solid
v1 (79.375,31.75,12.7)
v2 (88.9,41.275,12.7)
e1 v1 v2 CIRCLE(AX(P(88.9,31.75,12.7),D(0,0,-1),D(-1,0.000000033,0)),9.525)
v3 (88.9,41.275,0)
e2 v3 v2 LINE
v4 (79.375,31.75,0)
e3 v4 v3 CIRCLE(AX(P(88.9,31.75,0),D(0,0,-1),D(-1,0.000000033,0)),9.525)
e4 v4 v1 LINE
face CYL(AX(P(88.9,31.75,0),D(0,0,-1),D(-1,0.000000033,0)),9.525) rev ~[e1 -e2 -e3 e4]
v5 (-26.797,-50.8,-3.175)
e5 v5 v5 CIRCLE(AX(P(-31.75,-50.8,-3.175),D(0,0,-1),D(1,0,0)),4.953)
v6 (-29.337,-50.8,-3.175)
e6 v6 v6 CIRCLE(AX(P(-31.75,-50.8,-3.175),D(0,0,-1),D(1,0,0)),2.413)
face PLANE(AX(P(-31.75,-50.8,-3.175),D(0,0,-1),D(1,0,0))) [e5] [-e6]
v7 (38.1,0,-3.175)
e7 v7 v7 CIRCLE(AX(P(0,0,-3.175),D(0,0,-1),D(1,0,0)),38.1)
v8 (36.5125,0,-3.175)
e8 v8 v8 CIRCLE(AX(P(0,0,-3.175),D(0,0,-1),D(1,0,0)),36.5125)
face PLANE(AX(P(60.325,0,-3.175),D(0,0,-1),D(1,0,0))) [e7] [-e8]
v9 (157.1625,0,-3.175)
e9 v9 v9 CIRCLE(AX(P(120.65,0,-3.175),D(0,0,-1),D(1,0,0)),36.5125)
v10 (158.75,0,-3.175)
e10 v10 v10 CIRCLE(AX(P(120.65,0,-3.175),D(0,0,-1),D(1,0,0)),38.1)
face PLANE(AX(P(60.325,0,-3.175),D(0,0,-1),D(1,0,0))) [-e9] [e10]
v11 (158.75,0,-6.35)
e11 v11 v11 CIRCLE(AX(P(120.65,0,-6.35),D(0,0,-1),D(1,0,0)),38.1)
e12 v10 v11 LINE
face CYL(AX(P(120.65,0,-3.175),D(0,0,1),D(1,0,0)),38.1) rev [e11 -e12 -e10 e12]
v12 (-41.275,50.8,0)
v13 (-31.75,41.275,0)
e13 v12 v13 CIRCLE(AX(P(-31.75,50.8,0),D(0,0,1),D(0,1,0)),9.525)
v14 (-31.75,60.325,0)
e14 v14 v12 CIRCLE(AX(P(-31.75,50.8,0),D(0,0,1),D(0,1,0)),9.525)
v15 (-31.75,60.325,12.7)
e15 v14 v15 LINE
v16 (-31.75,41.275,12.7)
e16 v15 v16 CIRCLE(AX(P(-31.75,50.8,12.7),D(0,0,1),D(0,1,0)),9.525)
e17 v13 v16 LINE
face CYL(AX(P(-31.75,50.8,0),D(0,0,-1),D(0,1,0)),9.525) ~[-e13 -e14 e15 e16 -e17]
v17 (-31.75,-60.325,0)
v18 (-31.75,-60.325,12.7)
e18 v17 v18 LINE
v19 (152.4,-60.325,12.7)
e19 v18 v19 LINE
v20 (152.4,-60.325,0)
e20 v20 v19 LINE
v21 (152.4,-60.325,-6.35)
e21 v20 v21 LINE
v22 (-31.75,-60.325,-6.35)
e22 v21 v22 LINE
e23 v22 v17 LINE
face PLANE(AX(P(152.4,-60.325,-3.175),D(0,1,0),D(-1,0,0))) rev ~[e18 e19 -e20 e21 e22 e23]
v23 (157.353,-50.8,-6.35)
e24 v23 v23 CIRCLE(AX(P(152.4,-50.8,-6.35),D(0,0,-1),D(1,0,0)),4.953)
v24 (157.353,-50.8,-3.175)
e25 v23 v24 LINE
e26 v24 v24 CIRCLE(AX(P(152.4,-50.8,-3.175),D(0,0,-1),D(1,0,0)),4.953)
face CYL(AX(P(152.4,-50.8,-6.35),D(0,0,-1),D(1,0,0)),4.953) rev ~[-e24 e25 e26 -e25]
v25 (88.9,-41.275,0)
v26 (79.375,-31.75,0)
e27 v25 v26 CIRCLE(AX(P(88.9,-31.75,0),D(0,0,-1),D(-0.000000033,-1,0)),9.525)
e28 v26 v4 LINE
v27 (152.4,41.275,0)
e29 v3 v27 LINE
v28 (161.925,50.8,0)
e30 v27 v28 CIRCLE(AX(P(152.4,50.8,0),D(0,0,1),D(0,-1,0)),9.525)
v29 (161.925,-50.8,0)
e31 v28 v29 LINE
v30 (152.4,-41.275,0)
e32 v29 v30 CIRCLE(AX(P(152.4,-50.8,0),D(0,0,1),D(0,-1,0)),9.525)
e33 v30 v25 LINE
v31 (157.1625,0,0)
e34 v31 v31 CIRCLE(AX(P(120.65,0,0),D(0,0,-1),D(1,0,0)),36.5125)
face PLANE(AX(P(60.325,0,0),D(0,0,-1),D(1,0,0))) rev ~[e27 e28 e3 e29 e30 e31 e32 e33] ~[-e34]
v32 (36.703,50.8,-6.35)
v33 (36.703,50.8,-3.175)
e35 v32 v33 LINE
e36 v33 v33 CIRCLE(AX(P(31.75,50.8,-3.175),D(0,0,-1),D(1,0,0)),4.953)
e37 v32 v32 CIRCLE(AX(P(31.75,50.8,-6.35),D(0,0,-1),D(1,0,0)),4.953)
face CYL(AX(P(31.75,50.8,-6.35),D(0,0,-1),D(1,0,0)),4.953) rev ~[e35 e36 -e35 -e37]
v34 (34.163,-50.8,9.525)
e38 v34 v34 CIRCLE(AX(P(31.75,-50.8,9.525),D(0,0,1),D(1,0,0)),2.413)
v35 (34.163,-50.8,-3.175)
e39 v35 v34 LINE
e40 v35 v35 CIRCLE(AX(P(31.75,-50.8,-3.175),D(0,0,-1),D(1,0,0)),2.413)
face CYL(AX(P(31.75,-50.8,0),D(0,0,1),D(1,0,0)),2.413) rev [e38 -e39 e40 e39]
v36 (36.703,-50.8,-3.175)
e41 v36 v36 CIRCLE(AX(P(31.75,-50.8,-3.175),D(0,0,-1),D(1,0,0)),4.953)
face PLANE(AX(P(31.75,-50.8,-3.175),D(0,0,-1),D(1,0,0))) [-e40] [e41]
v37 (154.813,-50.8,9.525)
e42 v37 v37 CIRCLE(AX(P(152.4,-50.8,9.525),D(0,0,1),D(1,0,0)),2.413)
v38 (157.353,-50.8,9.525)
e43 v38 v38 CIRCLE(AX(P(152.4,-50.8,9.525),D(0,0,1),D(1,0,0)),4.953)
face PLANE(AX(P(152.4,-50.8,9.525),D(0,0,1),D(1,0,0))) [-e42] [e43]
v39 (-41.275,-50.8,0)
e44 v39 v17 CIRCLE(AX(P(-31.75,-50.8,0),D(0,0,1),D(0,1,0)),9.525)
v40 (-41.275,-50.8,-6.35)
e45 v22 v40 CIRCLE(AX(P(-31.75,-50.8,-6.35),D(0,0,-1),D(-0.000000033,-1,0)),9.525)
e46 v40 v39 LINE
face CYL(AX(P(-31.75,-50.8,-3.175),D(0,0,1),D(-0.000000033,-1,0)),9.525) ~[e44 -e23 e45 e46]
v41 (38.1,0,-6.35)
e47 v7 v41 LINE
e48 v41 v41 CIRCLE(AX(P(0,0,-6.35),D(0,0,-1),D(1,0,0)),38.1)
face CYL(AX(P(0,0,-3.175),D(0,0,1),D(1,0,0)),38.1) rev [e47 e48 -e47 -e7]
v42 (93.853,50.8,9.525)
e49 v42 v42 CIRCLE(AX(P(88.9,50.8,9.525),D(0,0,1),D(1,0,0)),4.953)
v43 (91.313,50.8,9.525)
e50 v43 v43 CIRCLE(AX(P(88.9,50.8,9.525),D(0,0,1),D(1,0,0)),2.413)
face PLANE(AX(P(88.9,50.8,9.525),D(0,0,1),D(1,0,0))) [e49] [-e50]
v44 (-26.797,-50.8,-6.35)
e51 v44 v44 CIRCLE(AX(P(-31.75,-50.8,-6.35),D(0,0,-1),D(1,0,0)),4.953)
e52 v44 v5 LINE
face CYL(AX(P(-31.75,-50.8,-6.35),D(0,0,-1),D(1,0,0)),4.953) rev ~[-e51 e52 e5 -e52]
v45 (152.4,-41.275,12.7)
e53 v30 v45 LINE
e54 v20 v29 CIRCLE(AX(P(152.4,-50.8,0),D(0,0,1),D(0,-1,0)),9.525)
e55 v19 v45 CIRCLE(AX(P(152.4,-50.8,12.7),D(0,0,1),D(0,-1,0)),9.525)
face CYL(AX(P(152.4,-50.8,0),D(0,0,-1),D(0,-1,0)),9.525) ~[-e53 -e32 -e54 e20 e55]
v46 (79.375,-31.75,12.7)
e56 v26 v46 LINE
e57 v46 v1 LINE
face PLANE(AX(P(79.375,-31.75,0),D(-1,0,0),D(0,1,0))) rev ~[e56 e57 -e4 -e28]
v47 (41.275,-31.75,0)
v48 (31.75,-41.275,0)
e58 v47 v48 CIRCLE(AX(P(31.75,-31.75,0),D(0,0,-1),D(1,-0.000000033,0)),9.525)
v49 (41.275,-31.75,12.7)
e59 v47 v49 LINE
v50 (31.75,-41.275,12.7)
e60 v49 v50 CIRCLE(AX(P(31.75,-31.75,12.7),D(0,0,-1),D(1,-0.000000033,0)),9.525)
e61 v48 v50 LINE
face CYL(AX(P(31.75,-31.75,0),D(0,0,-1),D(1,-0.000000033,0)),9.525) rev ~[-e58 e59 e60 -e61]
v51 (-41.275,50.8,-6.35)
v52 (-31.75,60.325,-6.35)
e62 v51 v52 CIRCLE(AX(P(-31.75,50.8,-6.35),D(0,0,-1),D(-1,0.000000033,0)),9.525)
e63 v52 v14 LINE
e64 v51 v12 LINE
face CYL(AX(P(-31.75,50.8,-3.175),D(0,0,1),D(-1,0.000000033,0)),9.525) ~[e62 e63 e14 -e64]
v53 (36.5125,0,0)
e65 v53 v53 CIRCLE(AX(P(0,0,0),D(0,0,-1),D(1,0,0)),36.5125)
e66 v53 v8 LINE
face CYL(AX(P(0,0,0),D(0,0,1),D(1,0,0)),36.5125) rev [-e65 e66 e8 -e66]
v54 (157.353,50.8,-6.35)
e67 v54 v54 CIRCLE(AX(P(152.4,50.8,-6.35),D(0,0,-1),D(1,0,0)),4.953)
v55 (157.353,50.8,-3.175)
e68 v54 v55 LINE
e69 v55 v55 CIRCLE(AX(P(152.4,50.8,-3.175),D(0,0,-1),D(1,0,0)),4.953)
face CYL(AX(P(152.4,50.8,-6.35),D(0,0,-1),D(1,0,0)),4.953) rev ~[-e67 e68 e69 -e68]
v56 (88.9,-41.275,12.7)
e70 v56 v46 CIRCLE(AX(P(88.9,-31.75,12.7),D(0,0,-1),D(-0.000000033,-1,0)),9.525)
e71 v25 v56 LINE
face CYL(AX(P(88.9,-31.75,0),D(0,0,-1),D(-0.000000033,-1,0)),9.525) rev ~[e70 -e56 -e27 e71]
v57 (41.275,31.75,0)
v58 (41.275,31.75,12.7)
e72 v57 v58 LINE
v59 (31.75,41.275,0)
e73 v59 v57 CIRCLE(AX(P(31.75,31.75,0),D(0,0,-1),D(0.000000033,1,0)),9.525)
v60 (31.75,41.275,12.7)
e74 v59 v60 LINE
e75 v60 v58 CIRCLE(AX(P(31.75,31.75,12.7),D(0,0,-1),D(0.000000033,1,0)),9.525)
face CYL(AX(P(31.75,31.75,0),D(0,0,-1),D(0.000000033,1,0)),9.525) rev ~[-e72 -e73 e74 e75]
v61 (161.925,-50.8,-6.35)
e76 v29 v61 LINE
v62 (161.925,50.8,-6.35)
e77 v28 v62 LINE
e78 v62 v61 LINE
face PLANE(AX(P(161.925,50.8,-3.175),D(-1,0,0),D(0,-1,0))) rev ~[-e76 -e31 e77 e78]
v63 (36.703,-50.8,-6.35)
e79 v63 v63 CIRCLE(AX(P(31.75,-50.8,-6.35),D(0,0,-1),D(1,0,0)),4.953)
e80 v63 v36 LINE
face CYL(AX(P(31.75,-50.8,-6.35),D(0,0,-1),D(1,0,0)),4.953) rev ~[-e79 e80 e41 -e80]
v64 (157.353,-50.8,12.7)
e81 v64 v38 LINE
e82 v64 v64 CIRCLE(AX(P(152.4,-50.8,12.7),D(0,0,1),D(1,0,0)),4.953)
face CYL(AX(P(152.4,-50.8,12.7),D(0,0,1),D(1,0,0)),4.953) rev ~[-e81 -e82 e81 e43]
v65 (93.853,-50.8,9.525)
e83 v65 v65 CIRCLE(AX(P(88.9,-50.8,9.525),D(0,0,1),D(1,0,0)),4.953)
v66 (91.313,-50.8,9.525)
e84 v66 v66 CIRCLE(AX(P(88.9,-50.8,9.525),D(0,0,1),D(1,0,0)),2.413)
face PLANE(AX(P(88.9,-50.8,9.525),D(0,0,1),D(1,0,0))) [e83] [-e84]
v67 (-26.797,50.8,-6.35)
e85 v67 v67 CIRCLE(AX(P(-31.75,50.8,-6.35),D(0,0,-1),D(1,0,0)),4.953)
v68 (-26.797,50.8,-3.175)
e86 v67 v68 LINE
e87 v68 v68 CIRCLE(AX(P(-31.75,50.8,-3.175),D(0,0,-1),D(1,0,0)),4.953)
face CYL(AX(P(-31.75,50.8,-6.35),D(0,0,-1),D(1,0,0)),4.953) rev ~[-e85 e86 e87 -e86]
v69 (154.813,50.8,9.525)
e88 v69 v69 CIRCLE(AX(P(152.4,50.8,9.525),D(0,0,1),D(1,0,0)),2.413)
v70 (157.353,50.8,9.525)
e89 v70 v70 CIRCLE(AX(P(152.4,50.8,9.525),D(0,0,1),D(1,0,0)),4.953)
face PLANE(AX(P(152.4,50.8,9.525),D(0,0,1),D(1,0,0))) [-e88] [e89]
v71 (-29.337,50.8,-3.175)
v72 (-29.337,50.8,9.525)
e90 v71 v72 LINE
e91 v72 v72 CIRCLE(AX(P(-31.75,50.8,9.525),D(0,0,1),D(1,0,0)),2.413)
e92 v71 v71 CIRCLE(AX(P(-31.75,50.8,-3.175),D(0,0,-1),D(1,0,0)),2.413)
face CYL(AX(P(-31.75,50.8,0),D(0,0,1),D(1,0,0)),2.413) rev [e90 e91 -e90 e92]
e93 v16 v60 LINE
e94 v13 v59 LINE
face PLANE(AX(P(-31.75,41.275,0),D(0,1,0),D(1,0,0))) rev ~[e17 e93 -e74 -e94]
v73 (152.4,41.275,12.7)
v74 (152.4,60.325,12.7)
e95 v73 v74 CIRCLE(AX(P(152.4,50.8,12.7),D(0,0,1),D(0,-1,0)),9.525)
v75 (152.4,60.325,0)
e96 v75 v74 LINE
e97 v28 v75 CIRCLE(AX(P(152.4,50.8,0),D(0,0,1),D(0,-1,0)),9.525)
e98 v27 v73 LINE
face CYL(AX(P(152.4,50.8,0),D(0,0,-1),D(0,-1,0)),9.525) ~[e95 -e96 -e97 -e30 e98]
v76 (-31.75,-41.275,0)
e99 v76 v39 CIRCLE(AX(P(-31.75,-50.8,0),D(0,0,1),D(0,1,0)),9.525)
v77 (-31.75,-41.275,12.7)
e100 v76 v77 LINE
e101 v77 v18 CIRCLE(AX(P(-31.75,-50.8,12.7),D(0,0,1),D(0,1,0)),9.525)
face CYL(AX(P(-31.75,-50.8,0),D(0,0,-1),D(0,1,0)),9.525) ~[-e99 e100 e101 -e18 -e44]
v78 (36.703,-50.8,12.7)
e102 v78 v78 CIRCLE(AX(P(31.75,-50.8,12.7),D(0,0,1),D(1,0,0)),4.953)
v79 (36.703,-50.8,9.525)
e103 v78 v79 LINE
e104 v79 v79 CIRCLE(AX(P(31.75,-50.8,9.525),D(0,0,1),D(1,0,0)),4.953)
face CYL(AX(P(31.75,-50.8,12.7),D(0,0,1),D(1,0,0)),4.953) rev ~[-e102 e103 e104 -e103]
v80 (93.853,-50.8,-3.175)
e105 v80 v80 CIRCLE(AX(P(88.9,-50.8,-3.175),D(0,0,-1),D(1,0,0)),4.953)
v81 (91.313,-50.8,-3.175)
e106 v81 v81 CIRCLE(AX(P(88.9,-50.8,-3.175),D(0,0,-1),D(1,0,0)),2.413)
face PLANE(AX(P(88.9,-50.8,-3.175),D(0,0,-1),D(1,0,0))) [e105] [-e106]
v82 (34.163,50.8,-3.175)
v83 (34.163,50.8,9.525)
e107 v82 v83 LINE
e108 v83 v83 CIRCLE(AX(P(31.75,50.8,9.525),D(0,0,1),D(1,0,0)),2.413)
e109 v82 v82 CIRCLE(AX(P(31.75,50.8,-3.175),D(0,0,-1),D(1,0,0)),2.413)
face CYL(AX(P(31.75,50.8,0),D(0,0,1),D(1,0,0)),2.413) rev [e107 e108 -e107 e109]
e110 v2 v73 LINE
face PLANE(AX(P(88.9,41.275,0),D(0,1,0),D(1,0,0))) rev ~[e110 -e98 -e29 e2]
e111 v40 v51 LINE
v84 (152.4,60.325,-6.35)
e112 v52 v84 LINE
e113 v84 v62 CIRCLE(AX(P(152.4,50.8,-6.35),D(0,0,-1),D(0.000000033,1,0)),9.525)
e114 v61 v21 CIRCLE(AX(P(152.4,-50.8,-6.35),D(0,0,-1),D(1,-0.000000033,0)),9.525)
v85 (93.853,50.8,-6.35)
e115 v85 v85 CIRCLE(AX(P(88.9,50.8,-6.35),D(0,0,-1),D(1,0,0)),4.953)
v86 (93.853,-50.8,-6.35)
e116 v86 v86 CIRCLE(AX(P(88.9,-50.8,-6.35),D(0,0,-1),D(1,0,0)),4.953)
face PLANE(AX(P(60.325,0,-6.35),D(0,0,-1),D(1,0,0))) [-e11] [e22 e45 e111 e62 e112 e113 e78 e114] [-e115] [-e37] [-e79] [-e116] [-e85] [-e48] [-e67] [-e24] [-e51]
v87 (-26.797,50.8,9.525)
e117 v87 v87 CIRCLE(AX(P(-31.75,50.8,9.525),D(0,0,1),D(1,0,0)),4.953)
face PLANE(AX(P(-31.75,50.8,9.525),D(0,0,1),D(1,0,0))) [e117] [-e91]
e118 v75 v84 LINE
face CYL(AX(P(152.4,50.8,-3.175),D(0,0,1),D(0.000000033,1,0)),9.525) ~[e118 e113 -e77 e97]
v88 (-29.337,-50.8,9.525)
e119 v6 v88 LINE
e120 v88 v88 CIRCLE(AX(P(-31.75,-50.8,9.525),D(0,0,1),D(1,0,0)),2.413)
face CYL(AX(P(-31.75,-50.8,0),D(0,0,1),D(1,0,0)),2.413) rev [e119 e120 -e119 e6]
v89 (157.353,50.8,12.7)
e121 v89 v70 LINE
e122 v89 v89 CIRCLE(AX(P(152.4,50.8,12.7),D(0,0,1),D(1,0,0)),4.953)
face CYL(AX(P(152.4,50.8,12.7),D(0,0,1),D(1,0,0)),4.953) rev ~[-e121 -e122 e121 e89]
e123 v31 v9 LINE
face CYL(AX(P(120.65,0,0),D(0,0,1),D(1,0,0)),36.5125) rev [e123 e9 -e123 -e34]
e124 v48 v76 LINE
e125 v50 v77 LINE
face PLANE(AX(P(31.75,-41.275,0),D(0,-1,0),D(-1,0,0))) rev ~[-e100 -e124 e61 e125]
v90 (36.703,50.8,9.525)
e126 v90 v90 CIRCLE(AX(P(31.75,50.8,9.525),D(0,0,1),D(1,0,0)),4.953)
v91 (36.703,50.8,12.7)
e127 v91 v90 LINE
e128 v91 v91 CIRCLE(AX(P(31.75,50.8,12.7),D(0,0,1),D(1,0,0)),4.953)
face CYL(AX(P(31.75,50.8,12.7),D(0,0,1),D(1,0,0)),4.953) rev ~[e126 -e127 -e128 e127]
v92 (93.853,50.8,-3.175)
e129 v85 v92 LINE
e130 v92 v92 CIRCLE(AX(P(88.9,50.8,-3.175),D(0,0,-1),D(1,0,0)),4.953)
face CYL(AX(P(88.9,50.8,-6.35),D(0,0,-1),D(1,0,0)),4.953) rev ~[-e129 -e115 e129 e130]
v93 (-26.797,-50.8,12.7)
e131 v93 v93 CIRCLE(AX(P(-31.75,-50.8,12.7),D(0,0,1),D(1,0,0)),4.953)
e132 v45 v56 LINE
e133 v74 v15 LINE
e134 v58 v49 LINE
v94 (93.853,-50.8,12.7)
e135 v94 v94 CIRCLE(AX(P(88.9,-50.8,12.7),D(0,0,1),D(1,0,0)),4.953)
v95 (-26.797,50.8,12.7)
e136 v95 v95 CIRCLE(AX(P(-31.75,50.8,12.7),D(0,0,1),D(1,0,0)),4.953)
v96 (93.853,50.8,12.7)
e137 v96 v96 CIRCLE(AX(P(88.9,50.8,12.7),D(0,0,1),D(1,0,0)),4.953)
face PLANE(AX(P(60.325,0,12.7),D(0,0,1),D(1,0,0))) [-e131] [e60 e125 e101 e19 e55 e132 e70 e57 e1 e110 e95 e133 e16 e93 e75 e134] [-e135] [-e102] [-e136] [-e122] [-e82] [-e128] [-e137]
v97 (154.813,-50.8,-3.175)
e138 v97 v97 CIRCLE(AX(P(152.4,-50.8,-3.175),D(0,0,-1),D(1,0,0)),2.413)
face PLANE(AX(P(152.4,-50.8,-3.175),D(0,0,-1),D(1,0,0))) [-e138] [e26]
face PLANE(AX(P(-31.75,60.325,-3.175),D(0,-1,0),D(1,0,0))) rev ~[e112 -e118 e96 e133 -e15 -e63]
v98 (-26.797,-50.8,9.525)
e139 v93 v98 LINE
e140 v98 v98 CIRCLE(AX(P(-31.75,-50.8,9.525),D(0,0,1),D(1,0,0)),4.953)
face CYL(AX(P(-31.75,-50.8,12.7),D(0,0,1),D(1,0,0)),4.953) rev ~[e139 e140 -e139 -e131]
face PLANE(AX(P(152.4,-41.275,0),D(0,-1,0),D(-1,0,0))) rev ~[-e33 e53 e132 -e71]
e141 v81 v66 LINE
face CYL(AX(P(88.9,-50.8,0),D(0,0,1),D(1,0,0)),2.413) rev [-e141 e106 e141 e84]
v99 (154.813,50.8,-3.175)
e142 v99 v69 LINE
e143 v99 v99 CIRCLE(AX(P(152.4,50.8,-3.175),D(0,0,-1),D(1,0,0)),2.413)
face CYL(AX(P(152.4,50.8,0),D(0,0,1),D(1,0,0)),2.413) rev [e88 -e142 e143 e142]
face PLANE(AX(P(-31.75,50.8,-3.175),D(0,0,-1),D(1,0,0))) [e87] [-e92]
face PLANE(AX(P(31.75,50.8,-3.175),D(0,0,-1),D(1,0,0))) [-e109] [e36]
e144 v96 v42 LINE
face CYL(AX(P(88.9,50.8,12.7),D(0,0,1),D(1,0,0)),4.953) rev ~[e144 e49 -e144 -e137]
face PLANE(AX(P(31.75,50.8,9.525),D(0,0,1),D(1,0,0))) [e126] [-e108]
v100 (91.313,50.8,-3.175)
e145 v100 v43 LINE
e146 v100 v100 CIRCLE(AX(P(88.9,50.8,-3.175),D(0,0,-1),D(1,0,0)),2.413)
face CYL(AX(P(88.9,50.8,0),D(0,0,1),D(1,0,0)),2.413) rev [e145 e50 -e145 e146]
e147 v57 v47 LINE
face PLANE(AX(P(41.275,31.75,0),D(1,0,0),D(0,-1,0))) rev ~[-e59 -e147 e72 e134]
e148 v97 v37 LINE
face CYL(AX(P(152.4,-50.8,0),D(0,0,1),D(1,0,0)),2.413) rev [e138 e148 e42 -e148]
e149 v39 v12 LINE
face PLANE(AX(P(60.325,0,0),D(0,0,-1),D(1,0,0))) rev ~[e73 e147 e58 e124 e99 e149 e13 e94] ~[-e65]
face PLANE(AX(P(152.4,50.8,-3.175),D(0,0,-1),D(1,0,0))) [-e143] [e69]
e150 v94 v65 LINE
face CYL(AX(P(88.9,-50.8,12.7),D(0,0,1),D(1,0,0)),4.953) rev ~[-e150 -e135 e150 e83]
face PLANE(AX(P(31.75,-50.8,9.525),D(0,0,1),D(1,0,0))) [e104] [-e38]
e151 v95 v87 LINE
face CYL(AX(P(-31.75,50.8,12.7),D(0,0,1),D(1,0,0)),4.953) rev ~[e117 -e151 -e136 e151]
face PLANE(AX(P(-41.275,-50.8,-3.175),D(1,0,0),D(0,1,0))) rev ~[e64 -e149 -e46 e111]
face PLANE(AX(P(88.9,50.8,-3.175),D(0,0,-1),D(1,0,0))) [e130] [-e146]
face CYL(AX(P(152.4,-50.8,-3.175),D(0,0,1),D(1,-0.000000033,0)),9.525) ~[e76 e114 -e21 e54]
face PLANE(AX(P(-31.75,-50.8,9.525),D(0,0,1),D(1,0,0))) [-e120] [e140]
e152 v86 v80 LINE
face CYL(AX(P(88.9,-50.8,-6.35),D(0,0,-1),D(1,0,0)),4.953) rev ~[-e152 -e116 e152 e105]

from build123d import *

# Parameters (mm, degrees)
F0_R     = 2.413
F1_DEPTH = 12.7
F2_R     = 2.413
F2_R_2   = 36.5125
F3_DEPTH = 3.175
F4_R     = 2.794
F4_R_2   = 38.1
F5_DEPTH = 3.175
F6_R     = 4.953
F6_R_2   = 2.413
F7_DEPTH = 3.175
F8_R     = 4.953
F9_DEPTH = 3.175


with BuildPart() as f1:
    # F0 (on Top) → F1 (new body)
    with BuildSketch(Plane.XY):
        with BuildLine():
            Line((31.75, -41.275), (-31.75, -41.275))
            ThreePointArc((-31.75, -41.275), (-41.275, -50.8), (-31.75, -60.325))
            Line((-31.75, -60.325), (31.75, -60.325))
            Line((31.75, -60.325), (88.9, -60.325))
            Line((88.9, -60.325), (152.4, -60.325))
            ThreePointArc((152.4, -60.325), (161.925, -50.8), (152.4, -41.275))
            Line((152.4, -41.275), (88.9, -41.275))
            ThreePointArc((88.9, -41.275), (82.164808, -38.485192), (79.375, -31.75))
            Line((79.375, -31.75), (79.375, 31.75))
            ThreePointArc((79.375, 31.75), (82.164808, 38.485192), (88.9, 41.275))
            Line((88.9, 41.275), (152.4, 41.275))
            ThreePointArc((152.4, 41.275), (161.925, 50.8), (152.4, 60.325))
            Line((152.4, 60.325), (88.9, 60.325))
            Line((88.9, 60.325), (31.75, 60.325))
            Line((31.75, 60.325), (-31.75, 60.325))
            ThreePointArc((-31.75, 60.325), (-41.275, 50.8), (-31.75, 41.275))
            Line((-31.75, 41.275), (31.75, 41.275))
            ThreePointArc((31.75, 41.275), (38.485192, 38.485192), (41.275, 31.75))
            Line((41.275, 31.75), (41.275, -31.75))
            ThreePointArc((41.275, -31.75), (38.485192, -38.485192), (31.75, -41.275))
        make_face()
        with Locations((-31.75, -50.8)):
            Circle(F0_R, mode=Mode.SUBTRACT)
        with Locations((31.75, -50.8)):
            Circle(F0_R, mode=Mode.SUBTRACT)
        with Locations((88.9, -50.8)):
            Circle(F0_R, mode=Mode.SUBTRACT)
        with Locations((152.4, -50.8)):
            Circle(F0_R, mode=Mode.SUBTRACT)
        with Locations((-31.75, 50.8)):
            Circle(F0_R, mode=Mode.SUBTRACT)
        with Locations((31.75, 50.8)):
            Circle(F0_R, mode=Mode.SUBTRACT)
        with Locations((88.9, 50.8)):
            Circle(F0_R, mode=Mode.SUBTRACT)
        with Locations((152.4, 50.8)):
            Circle(F0_R, mode=Mode.SUBTRACT)
    extrude(amount=F1_DEPTH)

    # F2 (on face) → F3 (join)
    with BuildSketch(Plane(origin=(0, 0, 0), x_dir=(1, 0, 0), z_dir=(0, 0, -1))):
        with BuildLine():
            ThreePointArc((152.4, 41.275), (159.135192, 44.064808), (161.925, 50.8))
            ThreePointArc((161.925, 50.8), (159.135192, 57.535192), (152.4, 60.325))
            Line((152.4, 60.325), (60.325, 60.325))
            Line((60.325, 60.325), (-31.75, 60.325))
            ThreePointArc((-31.75, 60.325), (-38.485192, 57.535192), (-41.275, 50.8))
            ThreePointArc((-41.275, 50.8), (-38.485192, 44.064808), (-31.75, 41.275))
            Line((-31.75, 41.275), (31.75, 41.275))
            ThreePointArc((31.75, 41.275), (38.485192, 38.485192), (41.275, 31.75))
            Line((41.275, 31.75), (41.275, -31.75))
            ThreePointArc((41.275, -31.75), (38.485192, -38.485192), (31.75, -41.275))
            Line((31.75, -41.275), (-31.75, -41.275))
            ThreePointArc((-31.75, -41.275), (-38.485192, -44.064808), (-41.275, -50.8))
            ThreePointArc((-41.275, -50.8), (-38.485192, -57.535192), (-31.75, -60.325))
            Line((-31.75, -60.325), (152.4, -60.325))
            ThreePointArc((152.4, -60.325), (159.135192, -57.535192), (161.925, -50.8))
            ThreePointArc((161.925, -50.8), (159.135192, -44.064808), (152.4, -41.275))
            Line((152.4, -41.275), (88.9, -41.275))
            ThreePointArc((88.9, -41.275), (82.164808, -38.485192), (79.375, -31.75))
            Line((79.375, -31.75), (79.375, 31.75))
            ThreePointArc((79.375, 31.75), (82.164808, 38.485192), (88.9, 41.275))
            Line((88.9, 41.275), (152.4, 41.275))
        make_face()
        with Locations((-31.75, -50.8)):
            Circle(F2_R, mode=Mode.SUBTRACT)
        with Locations((31.75, -50.8)):
            Circle(F2_R, mode=Mode.SUBTRACT)
        with Locations((88.9, -50.8)):
            Circle(F2_R, mode=Mode.SUBTRACT)
        with Locations((152.4, -50.8)):
            Circle(F2_R, mode=Mode.SUBTRACT)
        with Locations((-31.75, 50.8)):
            Circle(F2_R, mode=Mode.SUBTRACT)
        with Locations((31.75, 50.8)):
            Circle(F2_R, mode=Mode.SUBTRACT)
        with Locations((88.9, 50.8)):
            Circle(F2_R, mode=Mode.SUBTRACT)
        with Locations((152.4, 50.8)):
            Circle(F2_R, mode=Mode.SUBTRACT)
        with BuildLine():
            Line((161.925, -50.8), (161.925, 50.8))
            ThreePointArc((161.925, 50.8), (159.135192, 44.064808), (152.4, 41.275))
            Line((152.4, 41.275), (88.9, 41.275))
            ThreePointArc((88.9, 41.275), (82.164808, 38.485192), (79.375, 31.75))
            Line((79.375, 31.75), (79.375, -31.75))
            ThreePointArc((79.375, -31.75), (82.164808, -38.485192), (88.9, -41.275))
            Line((88.9, -41.275), (152.4, -41.275))
            ThreePointArc((152.4, -41.275), (159.135192, -44.064808), (161.925, -50.8))
        make_face()
        with Locations((120.65, 0)):
            Circle(F2_R_2, mode=Mode.SUBTRACT)
        with BuildLine():
            ThreePointArc((-31.75, 41.275), (-38.485192, 44.064808), (-41.275, 50.8))
            Line((-41.275, 50.8), (-41.275, -50.8))
            ThreePointArc((-41.275, -50.8), (-38.485192, -44.064808), (-31.75, -41.275))
            Line((-31.75, -41.275), (31.75, -41.275))
            ThreePointArc((31.75, -41.275), (38.485192, -38.485192), (41.275, -31.75))
            Line((41.275, -31.75), (41.275, 31.75))
            ThreePointArc((41.275, 31.75), (38.485192, 38.485192), (31.75, 41.275))
            Line((31.75, 41.275), (-31.75, 41.275))
        make_face()
        Circle(F2_R_2, mode=Mode.SUBTRACT)
    extrude(amount=F3_DEPTH)

    # F4 (on face) → F5 (join)
    with BuildSketch(Plane(origin=(0, 0, -3.175), x_dir=(1, 0, 0), z_dir=(0, 0, -1))):
        with BuildLine():
            Line((-31.75, -60.325), (152.4, -60.325))
            ThreePointArc((152.4, -60.325), (159.135192, -57.535192), (161.925, -50.8))
            ThreePointArc((161.925, -50.8), (159.135192, -44.064808), (152.4, -41.275))
            Line((152.4, -41.275), (88.9, -41.275))
            ThreePointArc((88.9, -41.275), (82.164808, -38.485192), (79.375, -31.75))
            Line((79.375, -31.75), (79.375, 31.75))
            ThreePointArc((79.375, 31.75), (82.164808, 38.485192), (88.9, 41.275))
            Line((88.9, 41.275), (152.4, 41.275))
            ThreePointArc((152.4, 41.275), (159.135192, 44.064808), (161.925, 50.8))
            ThreePointArc((161.925, 50.8), (159.135192, 57.535192), (152.4, 60.325))
            Line((152.4, 60.325), (-31.75, 60.325))
            ThreePointArc((-31.75, 60.325), (-38.485192, 57.535192), (-41.275, 50.8))
            ThreePointArc((-41.275, 50.8), (-38.485192, 44.064808), (-31.75, 41.275))
            Line((-31.75, 41.275), (31.75, 41.275))
            ThreePointArc((31.75, 41.275), (38.485192, 38.485192), (41.275, 31.75))
            Line((41.275, 31.75), (41.275, -31.75))
            ThreePointArc((41.275, -31.75), (38.485192, -38.485192), (31.75, -41.275))
            Line((31.75, -41.275), (-31.75, -41.275))
            ThreePointArc((-31.75, -41.275), (-38.485192, -44.064808), (-41.275, -50.8))
            ThreePointArc((-41.275, -50.8), (-38.485192, -57.535192), (-31.75, -60.325))
        make_face()
        with Locations((-31.75, -50.8)):
            Circle(F4_R, mode=Mode.SUBTRACT)
        with Locations((31.75, -50.8)):
            Circle(F4_R, mode=Mode.SUBTRACT)
        with Locations((88.9, -50.8)):
            Circle(F4_R, mode=Mode.SUBTRACT)
        with Locations((152.4, -50.8)):
            Circle(F4_R, mode=Mode.SUBTRACT)
        with Locations((-31.75, 50.8)):
            Circle(F4_R, mode=Mode.SUBTRACT)
        with Locations((31.75, 50.8)):
            Circle(F4_R, mode=Mode.SUBTRACT)
        with Locations((88.9, 50.8)):
            Circle(F4_R, mode=Mode.SUBTRACT)
        with Locations((152.4, 50.8)):
            Circle(F4_R, mode=Mode.SUBTRACT)
        with BuildLine():
            Line((-41.275, 50.8), (-41.275, -50.8))
            ThreePointArc((-41.275, -50.8), (-38.485192, -44.064808), (-31.75, -41.275))
            Line((-31.75, -41.275), (31.75, -41.275))
            ThreePointArc((31.75, -41.275), (38.485192, -38.485192), (41.275, -31.75))
            Line((41.275, -31.75), (41.275, 31.75))
            ThreePointArc((41.275, 31.75), (38.485192, 38.485192), (31.75, 41.275))
            Line((31.75, 41.275), (-31.75, 41.275))
            ThreePointArc((-31.75, 41.275), (-38.485192, 44.064808), (-41.275, 50.8))
        make_face()
        Circle(F4_R_2, mode=Mode.SUBTRACT)
        with BuildLine():
            ThreePointArc((152.4, -41.275), (159.135192, -44.064808), (161.925, -50.8))
            Line((161.925, -50.8), (161.925, 50.8))
            ThreePointArc((161.925, 50.8), (159.135192, 44.064808), (152.4, 41.275))
            Line((152.4, 41.275), (88.9, 41.275))
            ThreePointArc((88.9, 41.275), (82.164808, 38.485192), (79.375, 31.75))
            Line((79.375, 31.75), (79.375, -31.75))
            ThreePointArc((79.375, -31.75), (82.164808, -38.485192), (88.9, -41.275))
            Line((88.9, -41.275), (152.4, -41.275))
        make_face()
        with Locations((120.65, 0)):
            Circle(F4_R_2, mode=Mode.SUBTRACT)
    extrude(amount=F5_DEPTH)

    # F6 (on face) → F7 (cut)
    with BuildSketch(Plane.XY.offset(12.7)):
        with Locations((-31.75, 50.8)):
            Circle(F6_R)
        with Locations((-31.75, 50.8)):
            Circle(F6_R_2, mode=Mode.SUBTRACT)
        with Locations((31.75, 50.8)):
            Circle(F6_R)
        with Locations((31.75, 50.8)):
            Circle(F6_R_2, mode=Mode.SUBTRACT)
        with Locations((88.9, 50.8)):
            Circle(F6_R)
        with Locations((88.9, 50.8)):
            Circle(F6_R_2, mode=Mode.SUBTRACT)
        with Locations((152.4, 50.8)):
            Circle(F6_R)
        with Locations((152.4, 50.8)):
            Circle(F6_R_2, mode=Mode.SUBTRACT)
        with Locations((-31.75, -50.8)):
            Circle(F6_R)
        with Locations((-31.75, -50.8)):
            Circle(F6_R_2, mode=Mode.SUBTRACT)
        with Locations((31.75, -50.8)):
            Circle(F6_R)
        with Locations((31.75, -50.8)):
            Circle(F6_R_2, mode=Mode.SUBTRACT)
        with Locations((88.9, -50.8)):
            Circle(F6_R)
        with Locations((88.9, -50.8)):
            Circle(F6_R_2, mode=Mode.SUBTRACT)
        with Locations((152.4, -50.8)):
            Circle(F6_R)
        with Locations((152.4, -50.8)):
            Circle(F6_R_2, mode=Mode.SUBTRACT)
    extrude(amount=-F7_DEPTH, mode=Mode.SUBTRACT)

    # F8 (on face) → F9 (cut)
    with BuildSketch(Plane(origin=(0, 0, -6.35), x_dir=(1, 0, 0), z_dir=(0, 0, -1))):
        with Locations((-31.75, 50.8)):
            Circle(F8_R)
        with Locations((31.75, 50.8)):
            Circle(F8_R)
        with Locations((88.9, 50.8)):
            Circle(F8_R)
        with Locations((152.4, 50.8)):
            Circle(F8_R)
        with Locations((-31.75, -50.8)):
            Circle(F8_R)
        with Locations((31.75, -50.8)):
            Circle(F8_R)
        with Locations((88.9, -50.8)):
            Circle(F8_R)
        with Locations((152.4, -50.8)):
            Circle(F8_R)
    extrude(amount=-F9_DEPTH, mode=Mode.SUBTRACT)


solid = f1.part
